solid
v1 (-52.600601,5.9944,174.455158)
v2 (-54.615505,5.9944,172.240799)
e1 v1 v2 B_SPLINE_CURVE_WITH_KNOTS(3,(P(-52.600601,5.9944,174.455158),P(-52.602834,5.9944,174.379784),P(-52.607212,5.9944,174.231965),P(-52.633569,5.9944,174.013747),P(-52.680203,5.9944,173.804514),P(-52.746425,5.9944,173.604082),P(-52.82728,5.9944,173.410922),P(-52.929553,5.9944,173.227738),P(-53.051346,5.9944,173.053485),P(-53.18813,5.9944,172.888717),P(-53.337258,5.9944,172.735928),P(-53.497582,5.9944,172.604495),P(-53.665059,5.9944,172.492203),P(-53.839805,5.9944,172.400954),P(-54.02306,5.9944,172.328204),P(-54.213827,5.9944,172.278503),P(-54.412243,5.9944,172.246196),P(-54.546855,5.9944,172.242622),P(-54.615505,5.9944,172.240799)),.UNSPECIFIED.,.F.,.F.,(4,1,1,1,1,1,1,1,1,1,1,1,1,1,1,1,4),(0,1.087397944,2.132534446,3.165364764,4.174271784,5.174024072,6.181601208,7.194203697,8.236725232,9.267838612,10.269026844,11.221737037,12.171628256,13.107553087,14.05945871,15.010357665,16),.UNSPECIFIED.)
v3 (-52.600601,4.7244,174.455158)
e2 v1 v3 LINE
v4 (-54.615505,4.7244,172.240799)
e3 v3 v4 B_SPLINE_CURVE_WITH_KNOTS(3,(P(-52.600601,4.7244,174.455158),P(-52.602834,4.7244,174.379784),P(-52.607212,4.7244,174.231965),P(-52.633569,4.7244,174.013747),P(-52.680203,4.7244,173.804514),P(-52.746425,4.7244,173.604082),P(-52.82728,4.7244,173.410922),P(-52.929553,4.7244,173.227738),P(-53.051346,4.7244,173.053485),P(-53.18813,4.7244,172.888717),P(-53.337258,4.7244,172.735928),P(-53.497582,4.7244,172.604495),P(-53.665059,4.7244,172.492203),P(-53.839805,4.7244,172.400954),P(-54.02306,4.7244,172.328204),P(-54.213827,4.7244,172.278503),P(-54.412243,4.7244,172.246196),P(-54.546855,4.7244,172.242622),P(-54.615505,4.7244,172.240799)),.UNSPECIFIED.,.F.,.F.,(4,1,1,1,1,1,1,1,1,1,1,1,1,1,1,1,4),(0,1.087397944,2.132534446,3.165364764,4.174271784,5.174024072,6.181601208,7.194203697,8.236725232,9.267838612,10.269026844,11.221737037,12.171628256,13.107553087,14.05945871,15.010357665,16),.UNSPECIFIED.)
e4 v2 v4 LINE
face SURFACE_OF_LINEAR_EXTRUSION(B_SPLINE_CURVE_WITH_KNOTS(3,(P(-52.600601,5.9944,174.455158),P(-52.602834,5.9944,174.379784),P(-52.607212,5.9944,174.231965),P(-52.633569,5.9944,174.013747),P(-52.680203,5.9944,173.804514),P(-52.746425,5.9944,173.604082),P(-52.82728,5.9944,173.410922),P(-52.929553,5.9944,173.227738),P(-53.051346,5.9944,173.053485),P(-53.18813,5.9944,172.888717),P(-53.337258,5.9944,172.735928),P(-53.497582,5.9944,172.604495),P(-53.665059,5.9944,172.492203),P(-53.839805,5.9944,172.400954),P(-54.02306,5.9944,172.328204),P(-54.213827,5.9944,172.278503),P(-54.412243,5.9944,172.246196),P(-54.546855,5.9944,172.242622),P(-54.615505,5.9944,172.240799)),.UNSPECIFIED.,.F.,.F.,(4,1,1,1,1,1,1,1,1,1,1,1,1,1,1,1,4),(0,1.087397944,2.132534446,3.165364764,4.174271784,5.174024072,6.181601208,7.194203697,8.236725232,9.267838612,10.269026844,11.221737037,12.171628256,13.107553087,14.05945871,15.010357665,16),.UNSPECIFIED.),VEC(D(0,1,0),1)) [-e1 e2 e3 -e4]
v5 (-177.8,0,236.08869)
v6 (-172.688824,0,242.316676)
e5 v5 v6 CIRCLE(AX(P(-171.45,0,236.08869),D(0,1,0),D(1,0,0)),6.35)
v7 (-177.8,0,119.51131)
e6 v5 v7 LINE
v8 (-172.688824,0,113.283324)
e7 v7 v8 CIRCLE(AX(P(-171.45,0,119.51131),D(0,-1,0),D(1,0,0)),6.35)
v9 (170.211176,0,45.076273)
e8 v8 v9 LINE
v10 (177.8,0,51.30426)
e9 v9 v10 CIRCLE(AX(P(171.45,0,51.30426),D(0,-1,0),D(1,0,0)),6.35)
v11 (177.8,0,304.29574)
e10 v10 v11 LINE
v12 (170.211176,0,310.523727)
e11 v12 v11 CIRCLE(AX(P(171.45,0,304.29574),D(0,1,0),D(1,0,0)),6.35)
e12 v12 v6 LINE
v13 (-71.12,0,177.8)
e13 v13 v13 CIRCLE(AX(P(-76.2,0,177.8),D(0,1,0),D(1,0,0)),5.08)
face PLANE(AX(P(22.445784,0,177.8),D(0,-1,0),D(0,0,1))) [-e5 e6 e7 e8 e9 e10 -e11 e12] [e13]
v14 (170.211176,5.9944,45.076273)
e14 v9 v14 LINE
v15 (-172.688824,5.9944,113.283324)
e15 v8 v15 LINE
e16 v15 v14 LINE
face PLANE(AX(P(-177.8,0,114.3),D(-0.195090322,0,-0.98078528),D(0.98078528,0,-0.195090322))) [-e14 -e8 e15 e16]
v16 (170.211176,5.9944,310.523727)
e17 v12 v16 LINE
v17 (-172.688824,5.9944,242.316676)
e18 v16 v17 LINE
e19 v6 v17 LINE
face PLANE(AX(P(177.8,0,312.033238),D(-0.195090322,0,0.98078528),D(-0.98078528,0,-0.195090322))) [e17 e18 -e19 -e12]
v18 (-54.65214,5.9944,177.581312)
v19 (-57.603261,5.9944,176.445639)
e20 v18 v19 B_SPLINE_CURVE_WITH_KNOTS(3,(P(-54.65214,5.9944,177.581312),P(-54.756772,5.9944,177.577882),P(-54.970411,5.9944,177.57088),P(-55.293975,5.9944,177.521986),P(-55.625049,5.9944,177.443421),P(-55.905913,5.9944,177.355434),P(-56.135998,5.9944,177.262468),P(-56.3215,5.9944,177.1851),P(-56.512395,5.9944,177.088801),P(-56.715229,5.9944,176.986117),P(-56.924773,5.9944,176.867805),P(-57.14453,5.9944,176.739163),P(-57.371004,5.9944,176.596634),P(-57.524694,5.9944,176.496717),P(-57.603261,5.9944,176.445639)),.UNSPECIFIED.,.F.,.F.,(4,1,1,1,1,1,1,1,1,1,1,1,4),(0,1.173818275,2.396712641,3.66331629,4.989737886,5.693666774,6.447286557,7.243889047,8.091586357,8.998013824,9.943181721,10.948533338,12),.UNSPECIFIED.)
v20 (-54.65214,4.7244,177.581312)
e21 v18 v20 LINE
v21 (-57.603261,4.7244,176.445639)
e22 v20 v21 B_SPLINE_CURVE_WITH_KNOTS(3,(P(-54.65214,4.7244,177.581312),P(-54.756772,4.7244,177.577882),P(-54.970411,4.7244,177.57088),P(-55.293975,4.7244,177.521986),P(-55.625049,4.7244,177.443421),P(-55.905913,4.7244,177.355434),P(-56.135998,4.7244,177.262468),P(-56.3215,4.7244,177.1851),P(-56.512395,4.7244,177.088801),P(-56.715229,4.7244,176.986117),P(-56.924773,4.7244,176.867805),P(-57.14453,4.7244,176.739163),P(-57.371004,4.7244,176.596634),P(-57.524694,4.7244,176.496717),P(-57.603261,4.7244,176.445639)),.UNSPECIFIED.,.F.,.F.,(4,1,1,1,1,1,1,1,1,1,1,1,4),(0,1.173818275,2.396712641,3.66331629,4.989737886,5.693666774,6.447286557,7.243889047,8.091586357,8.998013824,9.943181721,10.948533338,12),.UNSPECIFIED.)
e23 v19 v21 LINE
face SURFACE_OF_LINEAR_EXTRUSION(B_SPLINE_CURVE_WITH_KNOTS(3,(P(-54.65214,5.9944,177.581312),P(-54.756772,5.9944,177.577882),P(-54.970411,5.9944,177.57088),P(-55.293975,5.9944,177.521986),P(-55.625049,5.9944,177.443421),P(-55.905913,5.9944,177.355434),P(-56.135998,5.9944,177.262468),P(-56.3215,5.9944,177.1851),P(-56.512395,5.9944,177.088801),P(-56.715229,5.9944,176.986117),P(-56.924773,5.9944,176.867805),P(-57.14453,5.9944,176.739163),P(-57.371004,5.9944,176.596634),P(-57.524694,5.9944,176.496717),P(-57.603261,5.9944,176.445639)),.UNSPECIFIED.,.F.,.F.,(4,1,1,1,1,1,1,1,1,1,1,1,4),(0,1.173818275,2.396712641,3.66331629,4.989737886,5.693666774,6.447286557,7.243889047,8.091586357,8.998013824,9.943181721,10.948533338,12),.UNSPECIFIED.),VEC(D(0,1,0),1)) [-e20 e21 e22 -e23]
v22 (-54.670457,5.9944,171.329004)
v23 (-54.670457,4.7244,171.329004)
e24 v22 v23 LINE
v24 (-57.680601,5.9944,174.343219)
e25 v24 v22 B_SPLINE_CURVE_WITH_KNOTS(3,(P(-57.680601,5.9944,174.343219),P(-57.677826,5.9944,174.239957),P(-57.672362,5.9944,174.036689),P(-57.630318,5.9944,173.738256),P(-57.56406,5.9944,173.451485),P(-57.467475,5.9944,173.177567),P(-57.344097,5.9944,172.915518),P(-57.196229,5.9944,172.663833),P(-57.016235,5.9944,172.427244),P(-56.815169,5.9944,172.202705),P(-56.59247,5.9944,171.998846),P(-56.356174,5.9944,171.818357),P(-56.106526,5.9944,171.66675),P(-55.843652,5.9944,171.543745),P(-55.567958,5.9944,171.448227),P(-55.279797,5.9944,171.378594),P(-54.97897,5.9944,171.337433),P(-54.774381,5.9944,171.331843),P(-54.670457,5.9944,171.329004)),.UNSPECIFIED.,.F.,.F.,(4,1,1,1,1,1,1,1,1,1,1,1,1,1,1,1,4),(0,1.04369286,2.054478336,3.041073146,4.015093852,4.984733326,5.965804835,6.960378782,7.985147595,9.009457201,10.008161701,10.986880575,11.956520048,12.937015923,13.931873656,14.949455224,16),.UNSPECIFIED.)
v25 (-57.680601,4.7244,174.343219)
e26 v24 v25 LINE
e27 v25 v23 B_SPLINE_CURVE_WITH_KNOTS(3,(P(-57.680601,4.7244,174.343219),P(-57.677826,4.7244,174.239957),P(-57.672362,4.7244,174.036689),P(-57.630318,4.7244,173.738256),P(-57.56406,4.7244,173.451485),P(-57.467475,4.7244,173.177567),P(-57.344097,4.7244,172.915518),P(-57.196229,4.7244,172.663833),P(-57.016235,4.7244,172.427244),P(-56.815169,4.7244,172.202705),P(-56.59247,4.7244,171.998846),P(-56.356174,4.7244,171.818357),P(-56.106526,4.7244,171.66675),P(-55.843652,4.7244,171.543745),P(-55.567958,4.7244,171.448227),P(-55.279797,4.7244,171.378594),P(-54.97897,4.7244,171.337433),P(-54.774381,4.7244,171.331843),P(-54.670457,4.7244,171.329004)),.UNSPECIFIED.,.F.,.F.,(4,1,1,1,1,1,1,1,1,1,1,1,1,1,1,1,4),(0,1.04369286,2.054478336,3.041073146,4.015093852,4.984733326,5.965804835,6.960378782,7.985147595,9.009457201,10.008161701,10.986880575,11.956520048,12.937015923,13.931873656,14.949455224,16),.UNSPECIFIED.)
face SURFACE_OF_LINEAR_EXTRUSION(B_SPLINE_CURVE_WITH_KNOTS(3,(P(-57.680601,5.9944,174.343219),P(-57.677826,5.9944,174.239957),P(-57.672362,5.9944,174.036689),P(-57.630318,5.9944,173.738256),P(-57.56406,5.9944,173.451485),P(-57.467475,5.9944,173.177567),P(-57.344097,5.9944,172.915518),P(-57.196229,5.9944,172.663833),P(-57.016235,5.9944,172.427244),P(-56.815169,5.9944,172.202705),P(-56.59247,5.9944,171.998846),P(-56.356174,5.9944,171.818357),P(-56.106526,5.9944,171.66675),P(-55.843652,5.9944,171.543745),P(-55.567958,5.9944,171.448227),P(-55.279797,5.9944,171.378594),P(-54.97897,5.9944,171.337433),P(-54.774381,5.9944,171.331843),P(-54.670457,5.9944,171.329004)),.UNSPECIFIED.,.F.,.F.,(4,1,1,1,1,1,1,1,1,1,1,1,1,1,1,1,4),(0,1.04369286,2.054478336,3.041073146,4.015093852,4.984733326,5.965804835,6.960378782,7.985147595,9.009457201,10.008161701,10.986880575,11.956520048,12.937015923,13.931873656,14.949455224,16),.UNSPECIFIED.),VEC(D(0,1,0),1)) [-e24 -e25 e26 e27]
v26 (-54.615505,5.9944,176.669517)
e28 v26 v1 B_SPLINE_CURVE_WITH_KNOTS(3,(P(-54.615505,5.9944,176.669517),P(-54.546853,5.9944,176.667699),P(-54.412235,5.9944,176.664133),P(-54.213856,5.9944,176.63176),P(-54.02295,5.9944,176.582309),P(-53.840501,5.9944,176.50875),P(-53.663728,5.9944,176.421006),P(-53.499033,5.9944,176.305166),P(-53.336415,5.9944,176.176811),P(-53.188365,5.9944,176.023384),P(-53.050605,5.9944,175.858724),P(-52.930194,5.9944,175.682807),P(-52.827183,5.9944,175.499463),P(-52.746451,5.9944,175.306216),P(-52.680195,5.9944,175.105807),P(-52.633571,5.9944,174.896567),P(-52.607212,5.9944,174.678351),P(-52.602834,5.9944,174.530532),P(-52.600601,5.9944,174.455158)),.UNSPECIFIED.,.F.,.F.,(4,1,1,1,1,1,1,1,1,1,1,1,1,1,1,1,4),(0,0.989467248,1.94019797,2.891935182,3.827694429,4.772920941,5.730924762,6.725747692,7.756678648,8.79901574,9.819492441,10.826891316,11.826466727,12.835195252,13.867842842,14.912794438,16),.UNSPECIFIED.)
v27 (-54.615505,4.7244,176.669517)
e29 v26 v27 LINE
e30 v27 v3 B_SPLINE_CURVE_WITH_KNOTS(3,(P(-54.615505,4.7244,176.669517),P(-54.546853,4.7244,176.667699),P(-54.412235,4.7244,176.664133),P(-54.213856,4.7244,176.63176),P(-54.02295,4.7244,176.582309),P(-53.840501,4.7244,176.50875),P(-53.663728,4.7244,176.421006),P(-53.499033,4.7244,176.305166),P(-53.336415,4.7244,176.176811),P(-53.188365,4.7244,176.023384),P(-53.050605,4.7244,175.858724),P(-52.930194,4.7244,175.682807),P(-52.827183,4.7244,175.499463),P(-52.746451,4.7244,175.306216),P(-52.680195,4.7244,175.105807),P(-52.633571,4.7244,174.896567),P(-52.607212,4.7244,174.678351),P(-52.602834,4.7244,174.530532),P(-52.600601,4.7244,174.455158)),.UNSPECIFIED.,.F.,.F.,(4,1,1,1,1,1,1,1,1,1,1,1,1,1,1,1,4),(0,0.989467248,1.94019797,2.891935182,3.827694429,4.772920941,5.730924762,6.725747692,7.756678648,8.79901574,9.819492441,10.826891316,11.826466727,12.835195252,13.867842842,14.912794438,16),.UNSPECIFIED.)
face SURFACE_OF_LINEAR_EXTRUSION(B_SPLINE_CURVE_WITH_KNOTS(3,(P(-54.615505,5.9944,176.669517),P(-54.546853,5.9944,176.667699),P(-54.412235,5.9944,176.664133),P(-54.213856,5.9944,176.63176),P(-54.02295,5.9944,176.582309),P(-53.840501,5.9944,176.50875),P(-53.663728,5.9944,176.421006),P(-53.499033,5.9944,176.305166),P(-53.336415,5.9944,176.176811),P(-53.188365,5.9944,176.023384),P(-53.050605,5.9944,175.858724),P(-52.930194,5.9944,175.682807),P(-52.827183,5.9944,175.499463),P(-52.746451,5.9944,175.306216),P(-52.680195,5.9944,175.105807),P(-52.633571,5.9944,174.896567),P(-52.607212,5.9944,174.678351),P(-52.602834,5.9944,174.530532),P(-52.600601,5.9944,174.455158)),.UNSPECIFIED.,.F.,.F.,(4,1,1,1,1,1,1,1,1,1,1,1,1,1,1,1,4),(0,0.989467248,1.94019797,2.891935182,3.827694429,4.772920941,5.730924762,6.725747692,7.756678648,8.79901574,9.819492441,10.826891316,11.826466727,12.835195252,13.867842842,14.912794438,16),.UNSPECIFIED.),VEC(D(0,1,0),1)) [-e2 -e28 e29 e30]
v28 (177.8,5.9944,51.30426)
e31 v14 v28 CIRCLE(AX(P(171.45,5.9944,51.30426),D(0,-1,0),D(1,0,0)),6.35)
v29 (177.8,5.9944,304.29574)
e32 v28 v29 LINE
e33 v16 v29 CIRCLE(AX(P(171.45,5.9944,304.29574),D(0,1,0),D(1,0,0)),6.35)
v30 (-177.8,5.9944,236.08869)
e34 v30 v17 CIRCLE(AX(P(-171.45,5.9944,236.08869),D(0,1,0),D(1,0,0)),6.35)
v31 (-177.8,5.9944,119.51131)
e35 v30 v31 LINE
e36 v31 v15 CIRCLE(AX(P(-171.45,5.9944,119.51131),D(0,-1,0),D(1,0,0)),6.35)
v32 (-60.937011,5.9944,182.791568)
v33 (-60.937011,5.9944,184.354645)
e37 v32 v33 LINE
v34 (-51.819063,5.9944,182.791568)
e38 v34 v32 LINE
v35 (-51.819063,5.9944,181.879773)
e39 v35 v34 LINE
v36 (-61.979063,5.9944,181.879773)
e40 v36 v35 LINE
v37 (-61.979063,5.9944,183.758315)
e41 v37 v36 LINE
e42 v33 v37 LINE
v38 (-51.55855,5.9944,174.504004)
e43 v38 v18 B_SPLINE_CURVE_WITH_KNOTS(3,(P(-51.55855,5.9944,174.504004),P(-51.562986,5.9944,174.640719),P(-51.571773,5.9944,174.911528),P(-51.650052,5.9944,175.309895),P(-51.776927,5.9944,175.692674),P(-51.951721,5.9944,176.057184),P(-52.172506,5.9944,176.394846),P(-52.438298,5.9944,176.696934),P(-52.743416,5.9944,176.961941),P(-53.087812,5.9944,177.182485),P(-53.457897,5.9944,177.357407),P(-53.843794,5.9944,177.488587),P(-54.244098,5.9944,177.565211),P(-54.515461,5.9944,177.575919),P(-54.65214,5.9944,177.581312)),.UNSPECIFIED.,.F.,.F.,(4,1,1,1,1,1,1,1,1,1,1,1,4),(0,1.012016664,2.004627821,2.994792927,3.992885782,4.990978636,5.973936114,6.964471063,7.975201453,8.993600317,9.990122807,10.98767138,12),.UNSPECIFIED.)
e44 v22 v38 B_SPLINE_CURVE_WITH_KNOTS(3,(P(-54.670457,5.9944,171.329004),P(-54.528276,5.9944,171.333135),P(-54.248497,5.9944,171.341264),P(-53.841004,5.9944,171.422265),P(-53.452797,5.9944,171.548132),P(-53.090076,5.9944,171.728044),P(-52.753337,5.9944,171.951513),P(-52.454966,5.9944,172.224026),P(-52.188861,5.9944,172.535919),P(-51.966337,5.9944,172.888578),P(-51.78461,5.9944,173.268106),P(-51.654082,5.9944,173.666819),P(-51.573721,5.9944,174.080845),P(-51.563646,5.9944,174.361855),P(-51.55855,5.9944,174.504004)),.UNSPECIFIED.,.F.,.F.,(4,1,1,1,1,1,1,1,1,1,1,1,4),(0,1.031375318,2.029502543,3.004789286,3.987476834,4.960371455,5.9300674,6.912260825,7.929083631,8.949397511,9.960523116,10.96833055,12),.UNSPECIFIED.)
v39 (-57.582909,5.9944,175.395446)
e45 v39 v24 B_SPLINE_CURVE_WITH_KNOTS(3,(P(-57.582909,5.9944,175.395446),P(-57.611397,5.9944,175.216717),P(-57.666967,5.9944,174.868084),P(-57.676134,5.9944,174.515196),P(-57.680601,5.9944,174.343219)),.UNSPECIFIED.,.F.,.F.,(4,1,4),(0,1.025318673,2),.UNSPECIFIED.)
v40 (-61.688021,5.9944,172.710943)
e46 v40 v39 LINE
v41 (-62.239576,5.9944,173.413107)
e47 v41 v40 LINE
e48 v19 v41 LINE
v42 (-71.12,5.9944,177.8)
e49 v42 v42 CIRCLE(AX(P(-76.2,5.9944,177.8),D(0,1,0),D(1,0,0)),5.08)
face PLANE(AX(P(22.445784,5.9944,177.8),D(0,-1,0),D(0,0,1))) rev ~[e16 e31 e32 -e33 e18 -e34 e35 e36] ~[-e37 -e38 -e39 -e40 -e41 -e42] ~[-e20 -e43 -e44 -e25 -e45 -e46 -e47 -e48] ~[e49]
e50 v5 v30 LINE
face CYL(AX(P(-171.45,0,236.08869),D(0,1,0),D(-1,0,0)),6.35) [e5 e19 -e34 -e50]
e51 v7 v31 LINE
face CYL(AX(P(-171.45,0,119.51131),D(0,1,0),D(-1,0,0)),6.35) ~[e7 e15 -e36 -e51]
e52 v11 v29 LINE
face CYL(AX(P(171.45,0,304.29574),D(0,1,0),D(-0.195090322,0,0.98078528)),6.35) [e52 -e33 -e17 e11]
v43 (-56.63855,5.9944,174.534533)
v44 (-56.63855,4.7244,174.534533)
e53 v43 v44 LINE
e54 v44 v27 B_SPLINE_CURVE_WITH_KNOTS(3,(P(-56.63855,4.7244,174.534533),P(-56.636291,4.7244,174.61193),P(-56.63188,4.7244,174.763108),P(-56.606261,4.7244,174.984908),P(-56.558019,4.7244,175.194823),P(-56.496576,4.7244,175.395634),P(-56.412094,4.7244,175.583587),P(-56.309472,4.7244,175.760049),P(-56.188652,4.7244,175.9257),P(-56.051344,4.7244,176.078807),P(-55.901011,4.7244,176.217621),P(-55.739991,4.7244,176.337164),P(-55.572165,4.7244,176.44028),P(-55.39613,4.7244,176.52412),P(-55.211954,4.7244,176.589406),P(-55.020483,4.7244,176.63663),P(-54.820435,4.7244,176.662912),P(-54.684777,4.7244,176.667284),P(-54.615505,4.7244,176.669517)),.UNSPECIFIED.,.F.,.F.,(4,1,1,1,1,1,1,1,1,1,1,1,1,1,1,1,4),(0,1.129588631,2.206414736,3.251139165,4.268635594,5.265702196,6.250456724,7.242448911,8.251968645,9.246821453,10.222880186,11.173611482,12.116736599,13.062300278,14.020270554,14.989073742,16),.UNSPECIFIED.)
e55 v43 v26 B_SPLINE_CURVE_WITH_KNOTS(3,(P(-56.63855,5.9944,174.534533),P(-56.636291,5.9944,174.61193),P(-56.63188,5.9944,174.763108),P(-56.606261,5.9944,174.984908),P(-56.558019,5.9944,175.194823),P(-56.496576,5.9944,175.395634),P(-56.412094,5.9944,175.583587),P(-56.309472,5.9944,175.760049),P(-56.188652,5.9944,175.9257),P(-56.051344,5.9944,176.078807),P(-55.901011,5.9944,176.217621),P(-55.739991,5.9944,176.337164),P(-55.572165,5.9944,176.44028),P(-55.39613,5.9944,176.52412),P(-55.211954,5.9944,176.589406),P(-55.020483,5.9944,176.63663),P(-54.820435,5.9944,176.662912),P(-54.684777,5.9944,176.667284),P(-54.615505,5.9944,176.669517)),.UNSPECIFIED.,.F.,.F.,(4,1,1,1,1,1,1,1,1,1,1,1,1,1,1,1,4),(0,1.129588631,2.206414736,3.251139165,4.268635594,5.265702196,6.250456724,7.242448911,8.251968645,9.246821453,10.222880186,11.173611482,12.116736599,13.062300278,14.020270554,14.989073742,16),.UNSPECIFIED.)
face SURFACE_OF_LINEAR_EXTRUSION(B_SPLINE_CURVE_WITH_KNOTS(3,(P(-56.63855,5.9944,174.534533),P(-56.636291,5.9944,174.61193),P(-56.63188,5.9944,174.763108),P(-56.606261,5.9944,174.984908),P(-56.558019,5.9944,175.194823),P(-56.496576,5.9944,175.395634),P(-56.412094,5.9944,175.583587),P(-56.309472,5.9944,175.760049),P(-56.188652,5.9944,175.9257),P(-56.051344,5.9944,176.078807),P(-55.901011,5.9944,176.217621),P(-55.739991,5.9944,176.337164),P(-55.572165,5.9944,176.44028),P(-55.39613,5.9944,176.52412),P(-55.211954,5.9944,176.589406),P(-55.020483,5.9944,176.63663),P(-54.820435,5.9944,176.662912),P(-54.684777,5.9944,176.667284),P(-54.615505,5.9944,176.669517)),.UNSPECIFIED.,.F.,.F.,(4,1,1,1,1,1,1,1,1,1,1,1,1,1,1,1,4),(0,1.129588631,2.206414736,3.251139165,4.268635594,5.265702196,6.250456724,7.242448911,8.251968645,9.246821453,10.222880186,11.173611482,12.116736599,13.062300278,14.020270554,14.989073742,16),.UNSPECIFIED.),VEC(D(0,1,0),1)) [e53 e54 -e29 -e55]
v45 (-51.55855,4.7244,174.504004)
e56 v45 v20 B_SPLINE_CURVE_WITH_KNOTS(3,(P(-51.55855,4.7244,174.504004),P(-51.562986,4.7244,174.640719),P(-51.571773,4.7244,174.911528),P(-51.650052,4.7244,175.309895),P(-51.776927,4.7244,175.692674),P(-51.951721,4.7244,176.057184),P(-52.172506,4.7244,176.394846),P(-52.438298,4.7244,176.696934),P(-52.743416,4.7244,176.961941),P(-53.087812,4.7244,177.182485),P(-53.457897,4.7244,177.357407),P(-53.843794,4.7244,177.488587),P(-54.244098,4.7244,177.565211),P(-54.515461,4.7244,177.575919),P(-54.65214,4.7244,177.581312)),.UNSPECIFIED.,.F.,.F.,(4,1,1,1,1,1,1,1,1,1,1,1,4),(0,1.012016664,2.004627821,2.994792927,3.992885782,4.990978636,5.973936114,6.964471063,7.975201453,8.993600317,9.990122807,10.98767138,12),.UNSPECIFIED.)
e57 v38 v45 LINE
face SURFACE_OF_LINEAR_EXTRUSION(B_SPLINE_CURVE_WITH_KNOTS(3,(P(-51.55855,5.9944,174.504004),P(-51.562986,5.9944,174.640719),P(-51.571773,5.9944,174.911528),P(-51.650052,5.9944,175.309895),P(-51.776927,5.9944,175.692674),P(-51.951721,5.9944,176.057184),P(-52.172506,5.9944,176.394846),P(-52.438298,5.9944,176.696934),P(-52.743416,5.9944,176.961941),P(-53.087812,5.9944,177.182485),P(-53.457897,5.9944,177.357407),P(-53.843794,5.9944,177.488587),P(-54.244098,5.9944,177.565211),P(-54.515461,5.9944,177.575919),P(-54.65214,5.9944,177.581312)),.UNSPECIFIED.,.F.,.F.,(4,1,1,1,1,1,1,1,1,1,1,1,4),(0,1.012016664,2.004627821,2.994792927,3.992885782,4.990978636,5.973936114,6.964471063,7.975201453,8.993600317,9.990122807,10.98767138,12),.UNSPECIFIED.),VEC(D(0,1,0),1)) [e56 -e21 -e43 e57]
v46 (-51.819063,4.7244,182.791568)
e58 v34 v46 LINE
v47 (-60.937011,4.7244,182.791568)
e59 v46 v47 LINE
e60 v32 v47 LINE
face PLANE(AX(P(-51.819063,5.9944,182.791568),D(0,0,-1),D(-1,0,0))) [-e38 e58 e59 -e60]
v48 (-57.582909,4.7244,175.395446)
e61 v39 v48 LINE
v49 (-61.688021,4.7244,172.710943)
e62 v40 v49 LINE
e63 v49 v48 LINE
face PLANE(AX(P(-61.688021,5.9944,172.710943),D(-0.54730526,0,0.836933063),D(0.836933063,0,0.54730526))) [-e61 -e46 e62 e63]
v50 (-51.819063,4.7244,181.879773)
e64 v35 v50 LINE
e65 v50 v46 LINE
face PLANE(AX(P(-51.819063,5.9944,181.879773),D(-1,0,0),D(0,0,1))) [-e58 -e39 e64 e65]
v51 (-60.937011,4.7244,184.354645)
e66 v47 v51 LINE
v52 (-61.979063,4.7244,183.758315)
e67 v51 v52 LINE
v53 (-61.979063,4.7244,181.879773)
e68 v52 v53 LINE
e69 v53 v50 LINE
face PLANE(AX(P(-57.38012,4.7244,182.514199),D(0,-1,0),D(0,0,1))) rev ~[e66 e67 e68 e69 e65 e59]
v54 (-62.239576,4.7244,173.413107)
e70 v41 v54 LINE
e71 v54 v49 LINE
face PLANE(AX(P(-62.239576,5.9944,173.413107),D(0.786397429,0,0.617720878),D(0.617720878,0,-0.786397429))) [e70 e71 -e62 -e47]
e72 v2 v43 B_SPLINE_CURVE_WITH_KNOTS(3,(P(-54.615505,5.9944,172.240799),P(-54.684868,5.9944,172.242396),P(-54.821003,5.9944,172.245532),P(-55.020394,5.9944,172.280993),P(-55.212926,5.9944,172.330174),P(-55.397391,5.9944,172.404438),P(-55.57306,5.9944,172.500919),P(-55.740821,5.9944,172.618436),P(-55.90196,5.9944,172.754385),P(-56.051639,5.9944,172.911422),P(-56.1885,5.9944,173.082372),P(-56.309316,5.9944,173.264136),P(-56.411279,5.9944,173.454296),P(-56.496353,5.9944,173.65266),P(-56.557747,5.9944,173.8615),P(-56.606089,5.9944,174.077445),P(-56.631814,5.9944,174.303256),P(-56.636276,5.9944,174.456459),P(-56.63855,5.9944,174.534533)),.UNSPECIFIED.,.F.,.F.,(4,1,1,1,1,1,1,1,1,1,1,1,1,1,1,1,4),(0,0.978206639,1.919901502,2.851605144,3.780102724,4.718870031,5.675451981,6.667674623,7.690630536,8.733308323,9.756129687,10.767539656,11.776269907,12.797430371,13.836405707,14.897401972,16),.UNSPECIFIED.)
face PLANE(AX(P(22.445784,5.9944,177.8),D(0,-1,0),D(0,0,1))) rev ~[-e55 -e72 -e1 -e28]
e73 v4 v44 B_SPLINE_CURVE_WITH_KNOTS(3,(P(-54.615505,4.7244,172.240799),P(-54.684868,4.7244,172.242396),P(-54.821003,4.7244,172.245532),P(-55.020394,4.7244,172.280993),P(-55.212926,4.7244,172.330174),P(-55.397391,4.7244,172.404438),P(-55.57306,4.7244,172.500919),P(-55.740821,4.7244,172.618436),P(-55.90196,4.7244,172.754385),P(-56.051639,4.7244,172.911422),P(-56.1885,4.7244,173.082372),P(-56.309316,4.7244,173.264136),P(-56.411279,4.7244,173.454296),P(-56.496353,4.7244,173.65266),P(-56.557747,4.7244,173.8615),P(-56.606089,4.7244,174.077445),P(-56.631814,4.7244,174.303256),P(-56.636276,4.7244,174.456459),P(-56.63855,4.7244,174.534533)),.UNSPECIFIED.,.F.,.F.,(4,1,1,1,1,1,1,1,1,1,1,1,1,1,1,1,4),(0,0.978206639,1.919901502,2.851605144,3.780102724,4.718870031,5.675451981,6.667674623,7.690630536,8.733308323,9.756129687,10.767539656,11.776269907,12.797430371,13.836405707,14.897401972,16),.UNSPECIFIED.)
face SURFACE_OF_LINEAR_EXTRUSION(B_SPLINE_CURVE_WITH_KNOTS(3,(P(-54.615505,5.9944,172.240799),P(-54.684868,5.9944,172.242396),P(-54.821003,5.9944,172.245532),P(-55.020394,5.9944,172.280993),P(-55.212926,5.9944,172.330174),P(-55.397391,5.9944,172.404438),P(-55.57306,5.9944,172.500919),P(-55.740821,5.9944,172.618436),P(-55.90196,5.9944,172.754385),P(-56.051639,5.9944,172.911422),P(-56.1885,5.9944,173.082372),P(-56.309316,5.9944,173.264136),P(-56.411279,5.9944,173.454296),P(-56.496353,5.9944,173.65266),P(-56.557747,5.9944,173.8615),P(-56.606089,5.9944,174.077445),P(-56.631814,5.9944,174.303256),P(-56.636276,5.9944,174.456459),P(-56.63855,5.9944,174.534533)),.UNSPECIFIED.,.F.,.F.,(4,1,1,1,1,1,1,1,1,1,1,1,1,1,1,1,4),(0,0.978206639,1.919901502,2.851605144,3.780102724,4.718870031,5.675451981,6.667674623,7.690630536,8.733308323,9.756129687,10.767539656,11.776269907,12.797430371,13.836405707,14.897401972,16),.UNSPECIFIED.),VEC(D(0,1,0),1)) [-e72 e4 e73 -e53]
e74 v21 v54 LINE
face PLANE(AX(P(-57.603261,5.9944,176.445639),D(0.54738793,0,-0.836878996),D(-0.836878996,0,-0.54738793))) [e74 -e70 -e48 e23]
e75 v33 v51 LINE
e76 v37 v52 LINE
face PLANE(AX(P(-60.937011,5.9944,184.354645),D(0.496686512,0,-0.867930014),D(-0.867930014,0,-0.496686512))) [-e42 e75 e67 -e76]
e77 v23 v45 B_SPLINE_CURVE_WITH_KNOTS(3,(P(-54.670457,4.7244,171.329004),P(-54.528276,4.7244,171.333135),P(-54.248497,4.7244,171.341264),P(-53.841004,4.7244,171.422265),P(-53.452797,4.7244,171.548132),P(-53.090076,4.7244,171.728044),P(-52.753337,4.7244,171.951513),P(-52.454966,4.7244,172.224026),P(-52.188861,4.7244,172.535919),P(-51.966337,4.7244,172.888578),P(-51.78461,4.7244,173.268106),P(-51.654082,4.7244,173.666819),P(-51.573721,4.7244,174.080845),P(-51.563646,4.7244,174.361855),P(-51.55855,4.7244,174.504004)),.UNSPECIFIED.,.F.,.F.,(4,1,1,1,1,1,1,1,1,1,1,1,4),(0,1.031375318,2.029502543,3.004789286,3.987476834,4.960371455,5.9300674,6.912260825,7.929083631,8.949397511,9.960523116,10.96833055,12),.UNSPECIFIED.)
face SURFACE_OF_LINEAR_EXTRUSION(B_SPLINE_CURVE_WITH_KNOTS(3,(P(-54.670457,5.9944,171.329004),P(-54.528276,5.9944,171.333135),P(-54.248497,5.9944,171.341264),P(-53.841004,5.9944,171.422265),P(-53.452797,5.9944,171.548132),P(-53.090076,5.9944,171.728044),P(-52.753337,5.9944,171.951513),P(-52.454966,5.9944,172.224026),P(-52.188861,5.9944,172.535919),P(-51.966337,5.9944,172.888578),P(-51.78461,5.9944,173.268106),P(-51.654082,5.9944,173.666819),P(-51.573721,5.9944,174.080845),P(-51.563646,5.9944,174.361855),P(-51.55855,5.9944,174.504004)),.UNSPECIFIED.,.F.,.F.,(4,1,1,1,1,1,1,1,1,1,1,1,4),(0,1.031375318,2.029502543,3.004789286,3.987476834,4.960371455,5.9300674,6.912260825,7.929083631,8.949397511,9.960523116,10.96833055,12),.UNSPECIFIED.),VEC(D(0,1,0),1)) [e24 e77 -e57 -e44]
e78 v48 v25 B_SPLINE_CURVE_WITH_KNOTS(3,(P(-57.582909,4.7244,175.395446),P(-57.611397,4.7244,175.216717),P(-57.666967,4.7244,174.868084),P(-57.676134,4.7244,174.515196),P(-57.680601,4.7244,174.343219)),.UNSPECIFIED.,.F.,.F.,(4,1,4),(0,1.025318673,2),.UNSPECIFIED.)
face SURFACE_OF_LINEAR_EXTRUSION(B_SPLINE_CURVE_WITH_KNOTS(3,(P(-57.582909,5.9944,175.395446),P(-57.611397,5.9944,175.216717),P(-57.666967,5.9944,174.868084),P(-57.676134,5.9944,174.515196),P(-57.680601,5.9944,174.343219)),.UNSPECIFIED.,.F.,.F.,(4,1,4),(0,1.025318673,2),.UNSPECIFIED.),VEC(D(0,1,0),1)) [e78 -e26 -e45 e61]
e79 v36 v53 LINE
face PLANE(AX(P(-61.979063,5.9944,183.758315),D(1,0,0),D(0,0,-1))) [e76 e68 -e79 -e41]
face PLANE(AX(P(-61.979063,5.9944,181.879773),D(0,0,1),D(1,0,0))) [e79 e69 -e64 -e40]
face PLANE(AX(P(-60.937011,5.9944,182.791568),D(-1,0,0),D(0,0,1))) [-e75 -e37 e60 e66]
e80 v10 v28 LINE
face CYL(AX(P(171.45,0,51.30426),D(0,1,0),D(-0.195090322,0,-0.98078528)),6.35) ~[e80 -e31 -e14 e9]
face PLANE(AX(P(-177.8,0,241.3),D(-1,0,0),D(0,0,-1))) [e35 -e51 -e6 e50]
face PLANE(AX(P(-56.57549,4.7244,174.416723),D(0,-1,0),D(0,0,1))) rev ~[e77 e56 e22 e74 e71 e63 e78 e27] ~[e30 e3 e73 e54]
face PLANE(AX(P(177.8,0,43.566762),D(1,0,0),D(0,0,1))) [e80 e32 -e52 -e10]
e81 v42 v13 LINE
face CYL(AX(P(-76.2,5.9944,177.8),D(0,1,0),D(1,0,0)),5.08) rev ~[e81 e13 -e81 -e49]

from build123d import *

# Parameters (mm, degrees)
BOSS_EXTRUDE1_DEPTH   = 5.9944
SKETCH2_R             = 5.08
CUT_EXTRUDE1_DEPTH    = 381.139257342
CUT_EXTRUDE2_DEPTH    = 1.27
FILLET1_R             = 6.35
BODY_MOVE_COPY1_ANGLE = 90


with BuildPart() as part:
    # Sketch1 → Boss-Extrude1 (new body)
    with BuildSketch(Plane(origin=(0, 0, 0), x_dir=(1, 0, 0), z_dir=(0, 1, 0))):
        Polygon((-63.5, 0), (63.5, 0), (134.23323784, -355.6), (-134.23323784, -355.6), align=None)
    extrude(amount=BOSS_EXTRUDE1_DEPTH)

    # Sketch2 → Cut-Extrude1 (cut, through all)
    with BuildSketch(Plane(origin=(0, 5.9944, 0), x_dir=(1, 0, 0), z_dir=(0, 1, 0))):
        with Locations(Location((0, -101.6, 0), (0, 0, 270))):
            Circle(SKETCH2_R)
    extrude(amount=-CUT_EXTRUDE1_DEPTH, mode=Mode.SUBTRACT)

    # Sketch3 → Cut-Extrude2 (cut)
    # profile 1 of 2: a face of its own
    with BuildSketch(Plane(origin=(0, 5.9944, 0), x_dir=(1, 0, 0), z_dir=(0, 1, 0))):
        Polygon((-5.958315024, -115.820937251), (-4.079773357, -115.820937251), (-4.079773357, -125.980937251), (-4.991568229, -125.980937251), (-4.991568229, -116.862988533), (-6.554645152, -116.862988533), align=None)
    # profile 2 of 2: a face of its own
    with BuildSketch(Plane(origin=(0, 5.9944, 0), x_dir=(1, 0, 0), z_dir=(0, 1, 0))):
        with BuildLine():
            Line((4.386893309, -115.56042443), (5.089056771, -116.111978917))
            Line((5.089056771, -116.111978917), (2.404553566, -120.217091097))
            add(Edge.make_bspline(
                [(2.404553566, -120.217091097), (2.583283284, -120.188602861), (2.931915808, -120.133033337), (3.284804245, -120.123866273), (3.45678113, -120.119398789)],
                knots=[0, 0, 0, 0, 1.025318673, 2, 2, 2, 2], degree=3))
            add(Edge.make_bspline(
                [(3.45678113, -120.119398789), (3.560043005, -120.122174245), (3.763310933, -120.127637647), (4.061744393, -120.169682196), (4.348514562, -120.235940235), (4.622432842, -120.332524841), (4.884482412, -120.455903104), (5.136167082, -120.603771368), (5.372755774, -120.783765), (5.597295197, -120.984831271), (5.801154428, -121.207529718), (5.981642635, -121.44382617), (6.133249551, -121.693474441), (6.256254992, -121.956348086), (6.351773154, -122.232041891), (6.42140586, -122.520203119), (6.462567193, -122.821030476), (6.468156617, -123.025618551), (6.470995873, -123.12954302)],
                knots=[0, 0, 0, 0, 1.04369286, 2.054478336, 3.041073146, 4.015093852, 4.984733326, 5.965804835, 6.960378782, 7.985147595, 9.009457201, 10.008161701, 10.986880575, 11.956520048, 12.937015923, 13.931873656, 14.949455224, 16, 16, 16, 16], degree=3))
            add(Edge.make_bspline(
                [(6.470995873, -123.12954302), (6.466864803, -123.271724103), (6.458735835, -123.551502827), (6.377735101, -123.958996352), (6.251868247, -124.34720274), (6.071956336, -124.709923946), (5.848487475, -125.046662834), (5.575974235, -125.345034357), (5.264081137, -125.611139379), (4.911422318, -125.833662594), (4.53189417, -126.015390308), (4.133180944, -126.145917982), (3.719154713, -126.226279139), (3.438144765, -126.236353802), (3.295995873, -126.241450071)],
                knots=[0, 0, 0, 0, 1.031375318, 2.029502543, 3.004789286, 3.987476834, 4.960371455, 5.9300674, 6.912260825, 7.929083631, 8.949397511, 9.960523116, 10.96833055, 12, 12, 12, 12], degree=3))
            add(Edge.make_bspline(
                [(3.295995873, -126.241450071), (3.15928088, -126.237013908), (2.888472414, -126.228226646), (2.490105217, -126.149948381), (2.107325715, -126.023072905), (1.742815741, -125.848279457), (1.405153618, -125.627494288), (1.103065942, -125.361702072), (0.838058963, -125.056584311), (0.617515491, -124.712188331), (0.442593001, -124.342103197), (0.311413104, -123.956205623), (0.234788581, -123.555901676), (0.224081227, -123.284539284), (0.218688181, -123.147860328)],
                knots=[0, 0, 0, 0, 1.012016664, 2.004627821, 2.994792927, 3.992885782, 4.990978636, 5.973936114, 6.964471063, 7.975201453, 8.993600317, 9.990122807, 10.98767138, 12, 12, 12, 12], degree=3))
            add(Edge.make_bspline(
                [(0.218688181, -123.147860328), (0.222117747, -123.043228052), (0.229120266, -122.829588936), (0.278014222, -122.506024787), (0.356579455, -122.174950789), (0.44456577, -121.894087187), (0.537531541, -121.664002312), (0.614900056, -121.478499608), (0.711199427, -121.287604607), (0.813883299, -121.084771424), (0.932194667, -120.875227425), (1.060836667, -120.655470487), (1.203365939, -120.428995588), (1.303282754, -120.275306153), (1.354361258, -120.196738533)],
                knots=[0, 0, 0, 0, 1.173818275, 2.396712641, 3.66331629, 4.989737886, 5.693666774, 6.447286557, 7.243889047, 8.091586357, 8.998013824, 9.943181721, 10.948533338, 12, 12, 12, 12], degree=3))
            Line((1.354361258, -120.196738533), (4.386893309, -115.56042443))
        make_face()
        with BuildLine():
            add(Edge.make_bspline(
                [(3.265467027, -121.161450071), (3.188070339, -121.163708621), (3.036892125, -121.168120225), (2.815092315, -121.19373867), (2.605177277, -121.241981443), (2.40436594, -121.303424281), (2.216412608, -121.387906306), (2.03995129, -121.490527528), (1.874299597, -121.611347862), (1.721192601, -121.74865565), (1.58237895, -121.898988912), (1.46283601, -122.06000901), (1.359719557, -122.227835383), (1.275879763, -122.403870278), (1.210594286, -122.588046402), (1.163369878, -122.77951668), (1.137088131, -122.979565066), (1.132715756, -123.115222846), (1.130483053, -123.184494943)],
                knots=[0, 0, 0, 0, 1.129588631, 2.206414736, 3.251139165, 4.268635594, 5.265702196, 6.250456724, 7.242448911, 8.251968645, 9.246821453, 10.222880186, 11.173611482, 12.116736599, 13.062300278, 14.020270554, 14.989073742, 16, 16, 16, 16], degree=3))
            add(Edge.make_bspline(
                [(1.130483053, -123.184494943), (1.132301291, -123.253147456), (1.135866585, -123.387764814), (1.168240176, -123.586143689), (1.217690586, -123.777049823), (1.291250136, -123.959499036), (1.378994474, -124.136272348), (1.494833929, -124.300966776), (1.623188942, -124.463585037), (1.77661636, -124.611635023), (1.941276179, -124.749394823), (2.117192813, -124.869806073), (2.300537154, -124.972817365), (2.493784482, -125.053549009), (2.694193048, -125.119804653), (2.903432599, -125.166428832), (3.121648659, -125.192788302), (3.269467771, -125.197166373), (3.344842027, -125.199398789)],
                knots=[0, 0, 0, 0, 0.989467248, 1.94019797, 2.891935182, 3.827694429, 4.772920941, 5.730924762, 6.725747692, 7.756678648, 8.79901574, 9.819492441, 10.826891316, 11.826466727, 12.835195252, 13.867842842, 14.912794438, 16, 16, 16, 16], degree=3))
            add(Edge.make_bspline(
                [(3.344842027, -125.199398789), (3.42021616, -125.197166198), (3.568035029, -125.192787784), (3.786252845, -125.166430802), (3.995485908, -125.119797424), (4.195918058, -125.053575211), (4.389078327, -124.972720162), (4.572262318, -124.870446932), (4.746515298, -124.748654316), (4.91128321, -124.611870444), (5.064072014, -124.462742394), (5.195505486, -124.3024184), (5.307797386, -124.134941263), (5.399046341, -123.960195389), (5.471795689, -123.776939505), (5.521496863, -123.586173243), (5.553803599, -123.387757076), (5.557378079, -123.253144843), (5.559201002, -123.184494943)],
                knots=[0, 0, 0, 0, 1.087397944, 2.132534446, 3.165364764, 4.174271784, 5.174024072, 6.181601208, 7.194203697, 8.236725232, 9.267838612, 10.269026844, 11.221737037, 12.171628256, 13.107553087, 14.05945871, 15.010357665, 16, 16, 16, 16], degree=3))
            add(Edge.make_bspline(
                [(5.559201002, -123.184494943), (5.55760358, -123.115132475), (5.55446836, -122.978996509), (5.519007206, -122.779606166), (5.469825915, -122.587073567), (5.395562032, -122.402608755), (5.299081091, -122.226939663), (5.181563543, -122.059178902), (5.045615282, -121.898040294), (4.888577853, -121.748360827), (4.717627917, -121.611499595), (4.535863817, -121.490683969), (4.345703528, -121.388721179), (4.147339855, -121.303646848), (3.938499944, -121.242252946), (3.722555417, -121.19391096), (3.496744358, -121.168185789), (3.343541404, -121.163723908), (3.265467027, -121.161450071)],
                knots=[0, 0, 0, 0, 0.978206639, 1.919901502, 2.851605144, 3.780102724, 4.718870031, 5.675451981, 6.667674623, 7.690630536, 8.733308323, 9.756129687, 10.767539656, 11.776269907, 12.797430371, 13.836405707, 14.897401972, 16, 16, 16, 16], degree=3))
        make_face(mode=Mode.SUBTRACT)
    extrude(amount=-CUT_EXTRUDE2_DEPTH, mode=Mode.SUBTRACT)

    # Fillet1
    fillet1_edges = [part.edges().sort_by_distance(p)[0] for p in [
        (134.23323784, 2.9972, 355.6),
        (-134.23323784, 2.9972, 355.6),
        (-63.5, 2.9972, 0),
        (63.5, 2.9972, 0),
    ]]
    fillet(fillet1_edges, radius=FILLET1_R)


with BuildPart() as part_1:
    # Body-Move/Copy1: moved
    add(part.part.rotate(Axis((0, 0, 177.8), (0, 1, 0)), BODY_MOVE_COPY1_ANGLE))


solid = part_1.part
